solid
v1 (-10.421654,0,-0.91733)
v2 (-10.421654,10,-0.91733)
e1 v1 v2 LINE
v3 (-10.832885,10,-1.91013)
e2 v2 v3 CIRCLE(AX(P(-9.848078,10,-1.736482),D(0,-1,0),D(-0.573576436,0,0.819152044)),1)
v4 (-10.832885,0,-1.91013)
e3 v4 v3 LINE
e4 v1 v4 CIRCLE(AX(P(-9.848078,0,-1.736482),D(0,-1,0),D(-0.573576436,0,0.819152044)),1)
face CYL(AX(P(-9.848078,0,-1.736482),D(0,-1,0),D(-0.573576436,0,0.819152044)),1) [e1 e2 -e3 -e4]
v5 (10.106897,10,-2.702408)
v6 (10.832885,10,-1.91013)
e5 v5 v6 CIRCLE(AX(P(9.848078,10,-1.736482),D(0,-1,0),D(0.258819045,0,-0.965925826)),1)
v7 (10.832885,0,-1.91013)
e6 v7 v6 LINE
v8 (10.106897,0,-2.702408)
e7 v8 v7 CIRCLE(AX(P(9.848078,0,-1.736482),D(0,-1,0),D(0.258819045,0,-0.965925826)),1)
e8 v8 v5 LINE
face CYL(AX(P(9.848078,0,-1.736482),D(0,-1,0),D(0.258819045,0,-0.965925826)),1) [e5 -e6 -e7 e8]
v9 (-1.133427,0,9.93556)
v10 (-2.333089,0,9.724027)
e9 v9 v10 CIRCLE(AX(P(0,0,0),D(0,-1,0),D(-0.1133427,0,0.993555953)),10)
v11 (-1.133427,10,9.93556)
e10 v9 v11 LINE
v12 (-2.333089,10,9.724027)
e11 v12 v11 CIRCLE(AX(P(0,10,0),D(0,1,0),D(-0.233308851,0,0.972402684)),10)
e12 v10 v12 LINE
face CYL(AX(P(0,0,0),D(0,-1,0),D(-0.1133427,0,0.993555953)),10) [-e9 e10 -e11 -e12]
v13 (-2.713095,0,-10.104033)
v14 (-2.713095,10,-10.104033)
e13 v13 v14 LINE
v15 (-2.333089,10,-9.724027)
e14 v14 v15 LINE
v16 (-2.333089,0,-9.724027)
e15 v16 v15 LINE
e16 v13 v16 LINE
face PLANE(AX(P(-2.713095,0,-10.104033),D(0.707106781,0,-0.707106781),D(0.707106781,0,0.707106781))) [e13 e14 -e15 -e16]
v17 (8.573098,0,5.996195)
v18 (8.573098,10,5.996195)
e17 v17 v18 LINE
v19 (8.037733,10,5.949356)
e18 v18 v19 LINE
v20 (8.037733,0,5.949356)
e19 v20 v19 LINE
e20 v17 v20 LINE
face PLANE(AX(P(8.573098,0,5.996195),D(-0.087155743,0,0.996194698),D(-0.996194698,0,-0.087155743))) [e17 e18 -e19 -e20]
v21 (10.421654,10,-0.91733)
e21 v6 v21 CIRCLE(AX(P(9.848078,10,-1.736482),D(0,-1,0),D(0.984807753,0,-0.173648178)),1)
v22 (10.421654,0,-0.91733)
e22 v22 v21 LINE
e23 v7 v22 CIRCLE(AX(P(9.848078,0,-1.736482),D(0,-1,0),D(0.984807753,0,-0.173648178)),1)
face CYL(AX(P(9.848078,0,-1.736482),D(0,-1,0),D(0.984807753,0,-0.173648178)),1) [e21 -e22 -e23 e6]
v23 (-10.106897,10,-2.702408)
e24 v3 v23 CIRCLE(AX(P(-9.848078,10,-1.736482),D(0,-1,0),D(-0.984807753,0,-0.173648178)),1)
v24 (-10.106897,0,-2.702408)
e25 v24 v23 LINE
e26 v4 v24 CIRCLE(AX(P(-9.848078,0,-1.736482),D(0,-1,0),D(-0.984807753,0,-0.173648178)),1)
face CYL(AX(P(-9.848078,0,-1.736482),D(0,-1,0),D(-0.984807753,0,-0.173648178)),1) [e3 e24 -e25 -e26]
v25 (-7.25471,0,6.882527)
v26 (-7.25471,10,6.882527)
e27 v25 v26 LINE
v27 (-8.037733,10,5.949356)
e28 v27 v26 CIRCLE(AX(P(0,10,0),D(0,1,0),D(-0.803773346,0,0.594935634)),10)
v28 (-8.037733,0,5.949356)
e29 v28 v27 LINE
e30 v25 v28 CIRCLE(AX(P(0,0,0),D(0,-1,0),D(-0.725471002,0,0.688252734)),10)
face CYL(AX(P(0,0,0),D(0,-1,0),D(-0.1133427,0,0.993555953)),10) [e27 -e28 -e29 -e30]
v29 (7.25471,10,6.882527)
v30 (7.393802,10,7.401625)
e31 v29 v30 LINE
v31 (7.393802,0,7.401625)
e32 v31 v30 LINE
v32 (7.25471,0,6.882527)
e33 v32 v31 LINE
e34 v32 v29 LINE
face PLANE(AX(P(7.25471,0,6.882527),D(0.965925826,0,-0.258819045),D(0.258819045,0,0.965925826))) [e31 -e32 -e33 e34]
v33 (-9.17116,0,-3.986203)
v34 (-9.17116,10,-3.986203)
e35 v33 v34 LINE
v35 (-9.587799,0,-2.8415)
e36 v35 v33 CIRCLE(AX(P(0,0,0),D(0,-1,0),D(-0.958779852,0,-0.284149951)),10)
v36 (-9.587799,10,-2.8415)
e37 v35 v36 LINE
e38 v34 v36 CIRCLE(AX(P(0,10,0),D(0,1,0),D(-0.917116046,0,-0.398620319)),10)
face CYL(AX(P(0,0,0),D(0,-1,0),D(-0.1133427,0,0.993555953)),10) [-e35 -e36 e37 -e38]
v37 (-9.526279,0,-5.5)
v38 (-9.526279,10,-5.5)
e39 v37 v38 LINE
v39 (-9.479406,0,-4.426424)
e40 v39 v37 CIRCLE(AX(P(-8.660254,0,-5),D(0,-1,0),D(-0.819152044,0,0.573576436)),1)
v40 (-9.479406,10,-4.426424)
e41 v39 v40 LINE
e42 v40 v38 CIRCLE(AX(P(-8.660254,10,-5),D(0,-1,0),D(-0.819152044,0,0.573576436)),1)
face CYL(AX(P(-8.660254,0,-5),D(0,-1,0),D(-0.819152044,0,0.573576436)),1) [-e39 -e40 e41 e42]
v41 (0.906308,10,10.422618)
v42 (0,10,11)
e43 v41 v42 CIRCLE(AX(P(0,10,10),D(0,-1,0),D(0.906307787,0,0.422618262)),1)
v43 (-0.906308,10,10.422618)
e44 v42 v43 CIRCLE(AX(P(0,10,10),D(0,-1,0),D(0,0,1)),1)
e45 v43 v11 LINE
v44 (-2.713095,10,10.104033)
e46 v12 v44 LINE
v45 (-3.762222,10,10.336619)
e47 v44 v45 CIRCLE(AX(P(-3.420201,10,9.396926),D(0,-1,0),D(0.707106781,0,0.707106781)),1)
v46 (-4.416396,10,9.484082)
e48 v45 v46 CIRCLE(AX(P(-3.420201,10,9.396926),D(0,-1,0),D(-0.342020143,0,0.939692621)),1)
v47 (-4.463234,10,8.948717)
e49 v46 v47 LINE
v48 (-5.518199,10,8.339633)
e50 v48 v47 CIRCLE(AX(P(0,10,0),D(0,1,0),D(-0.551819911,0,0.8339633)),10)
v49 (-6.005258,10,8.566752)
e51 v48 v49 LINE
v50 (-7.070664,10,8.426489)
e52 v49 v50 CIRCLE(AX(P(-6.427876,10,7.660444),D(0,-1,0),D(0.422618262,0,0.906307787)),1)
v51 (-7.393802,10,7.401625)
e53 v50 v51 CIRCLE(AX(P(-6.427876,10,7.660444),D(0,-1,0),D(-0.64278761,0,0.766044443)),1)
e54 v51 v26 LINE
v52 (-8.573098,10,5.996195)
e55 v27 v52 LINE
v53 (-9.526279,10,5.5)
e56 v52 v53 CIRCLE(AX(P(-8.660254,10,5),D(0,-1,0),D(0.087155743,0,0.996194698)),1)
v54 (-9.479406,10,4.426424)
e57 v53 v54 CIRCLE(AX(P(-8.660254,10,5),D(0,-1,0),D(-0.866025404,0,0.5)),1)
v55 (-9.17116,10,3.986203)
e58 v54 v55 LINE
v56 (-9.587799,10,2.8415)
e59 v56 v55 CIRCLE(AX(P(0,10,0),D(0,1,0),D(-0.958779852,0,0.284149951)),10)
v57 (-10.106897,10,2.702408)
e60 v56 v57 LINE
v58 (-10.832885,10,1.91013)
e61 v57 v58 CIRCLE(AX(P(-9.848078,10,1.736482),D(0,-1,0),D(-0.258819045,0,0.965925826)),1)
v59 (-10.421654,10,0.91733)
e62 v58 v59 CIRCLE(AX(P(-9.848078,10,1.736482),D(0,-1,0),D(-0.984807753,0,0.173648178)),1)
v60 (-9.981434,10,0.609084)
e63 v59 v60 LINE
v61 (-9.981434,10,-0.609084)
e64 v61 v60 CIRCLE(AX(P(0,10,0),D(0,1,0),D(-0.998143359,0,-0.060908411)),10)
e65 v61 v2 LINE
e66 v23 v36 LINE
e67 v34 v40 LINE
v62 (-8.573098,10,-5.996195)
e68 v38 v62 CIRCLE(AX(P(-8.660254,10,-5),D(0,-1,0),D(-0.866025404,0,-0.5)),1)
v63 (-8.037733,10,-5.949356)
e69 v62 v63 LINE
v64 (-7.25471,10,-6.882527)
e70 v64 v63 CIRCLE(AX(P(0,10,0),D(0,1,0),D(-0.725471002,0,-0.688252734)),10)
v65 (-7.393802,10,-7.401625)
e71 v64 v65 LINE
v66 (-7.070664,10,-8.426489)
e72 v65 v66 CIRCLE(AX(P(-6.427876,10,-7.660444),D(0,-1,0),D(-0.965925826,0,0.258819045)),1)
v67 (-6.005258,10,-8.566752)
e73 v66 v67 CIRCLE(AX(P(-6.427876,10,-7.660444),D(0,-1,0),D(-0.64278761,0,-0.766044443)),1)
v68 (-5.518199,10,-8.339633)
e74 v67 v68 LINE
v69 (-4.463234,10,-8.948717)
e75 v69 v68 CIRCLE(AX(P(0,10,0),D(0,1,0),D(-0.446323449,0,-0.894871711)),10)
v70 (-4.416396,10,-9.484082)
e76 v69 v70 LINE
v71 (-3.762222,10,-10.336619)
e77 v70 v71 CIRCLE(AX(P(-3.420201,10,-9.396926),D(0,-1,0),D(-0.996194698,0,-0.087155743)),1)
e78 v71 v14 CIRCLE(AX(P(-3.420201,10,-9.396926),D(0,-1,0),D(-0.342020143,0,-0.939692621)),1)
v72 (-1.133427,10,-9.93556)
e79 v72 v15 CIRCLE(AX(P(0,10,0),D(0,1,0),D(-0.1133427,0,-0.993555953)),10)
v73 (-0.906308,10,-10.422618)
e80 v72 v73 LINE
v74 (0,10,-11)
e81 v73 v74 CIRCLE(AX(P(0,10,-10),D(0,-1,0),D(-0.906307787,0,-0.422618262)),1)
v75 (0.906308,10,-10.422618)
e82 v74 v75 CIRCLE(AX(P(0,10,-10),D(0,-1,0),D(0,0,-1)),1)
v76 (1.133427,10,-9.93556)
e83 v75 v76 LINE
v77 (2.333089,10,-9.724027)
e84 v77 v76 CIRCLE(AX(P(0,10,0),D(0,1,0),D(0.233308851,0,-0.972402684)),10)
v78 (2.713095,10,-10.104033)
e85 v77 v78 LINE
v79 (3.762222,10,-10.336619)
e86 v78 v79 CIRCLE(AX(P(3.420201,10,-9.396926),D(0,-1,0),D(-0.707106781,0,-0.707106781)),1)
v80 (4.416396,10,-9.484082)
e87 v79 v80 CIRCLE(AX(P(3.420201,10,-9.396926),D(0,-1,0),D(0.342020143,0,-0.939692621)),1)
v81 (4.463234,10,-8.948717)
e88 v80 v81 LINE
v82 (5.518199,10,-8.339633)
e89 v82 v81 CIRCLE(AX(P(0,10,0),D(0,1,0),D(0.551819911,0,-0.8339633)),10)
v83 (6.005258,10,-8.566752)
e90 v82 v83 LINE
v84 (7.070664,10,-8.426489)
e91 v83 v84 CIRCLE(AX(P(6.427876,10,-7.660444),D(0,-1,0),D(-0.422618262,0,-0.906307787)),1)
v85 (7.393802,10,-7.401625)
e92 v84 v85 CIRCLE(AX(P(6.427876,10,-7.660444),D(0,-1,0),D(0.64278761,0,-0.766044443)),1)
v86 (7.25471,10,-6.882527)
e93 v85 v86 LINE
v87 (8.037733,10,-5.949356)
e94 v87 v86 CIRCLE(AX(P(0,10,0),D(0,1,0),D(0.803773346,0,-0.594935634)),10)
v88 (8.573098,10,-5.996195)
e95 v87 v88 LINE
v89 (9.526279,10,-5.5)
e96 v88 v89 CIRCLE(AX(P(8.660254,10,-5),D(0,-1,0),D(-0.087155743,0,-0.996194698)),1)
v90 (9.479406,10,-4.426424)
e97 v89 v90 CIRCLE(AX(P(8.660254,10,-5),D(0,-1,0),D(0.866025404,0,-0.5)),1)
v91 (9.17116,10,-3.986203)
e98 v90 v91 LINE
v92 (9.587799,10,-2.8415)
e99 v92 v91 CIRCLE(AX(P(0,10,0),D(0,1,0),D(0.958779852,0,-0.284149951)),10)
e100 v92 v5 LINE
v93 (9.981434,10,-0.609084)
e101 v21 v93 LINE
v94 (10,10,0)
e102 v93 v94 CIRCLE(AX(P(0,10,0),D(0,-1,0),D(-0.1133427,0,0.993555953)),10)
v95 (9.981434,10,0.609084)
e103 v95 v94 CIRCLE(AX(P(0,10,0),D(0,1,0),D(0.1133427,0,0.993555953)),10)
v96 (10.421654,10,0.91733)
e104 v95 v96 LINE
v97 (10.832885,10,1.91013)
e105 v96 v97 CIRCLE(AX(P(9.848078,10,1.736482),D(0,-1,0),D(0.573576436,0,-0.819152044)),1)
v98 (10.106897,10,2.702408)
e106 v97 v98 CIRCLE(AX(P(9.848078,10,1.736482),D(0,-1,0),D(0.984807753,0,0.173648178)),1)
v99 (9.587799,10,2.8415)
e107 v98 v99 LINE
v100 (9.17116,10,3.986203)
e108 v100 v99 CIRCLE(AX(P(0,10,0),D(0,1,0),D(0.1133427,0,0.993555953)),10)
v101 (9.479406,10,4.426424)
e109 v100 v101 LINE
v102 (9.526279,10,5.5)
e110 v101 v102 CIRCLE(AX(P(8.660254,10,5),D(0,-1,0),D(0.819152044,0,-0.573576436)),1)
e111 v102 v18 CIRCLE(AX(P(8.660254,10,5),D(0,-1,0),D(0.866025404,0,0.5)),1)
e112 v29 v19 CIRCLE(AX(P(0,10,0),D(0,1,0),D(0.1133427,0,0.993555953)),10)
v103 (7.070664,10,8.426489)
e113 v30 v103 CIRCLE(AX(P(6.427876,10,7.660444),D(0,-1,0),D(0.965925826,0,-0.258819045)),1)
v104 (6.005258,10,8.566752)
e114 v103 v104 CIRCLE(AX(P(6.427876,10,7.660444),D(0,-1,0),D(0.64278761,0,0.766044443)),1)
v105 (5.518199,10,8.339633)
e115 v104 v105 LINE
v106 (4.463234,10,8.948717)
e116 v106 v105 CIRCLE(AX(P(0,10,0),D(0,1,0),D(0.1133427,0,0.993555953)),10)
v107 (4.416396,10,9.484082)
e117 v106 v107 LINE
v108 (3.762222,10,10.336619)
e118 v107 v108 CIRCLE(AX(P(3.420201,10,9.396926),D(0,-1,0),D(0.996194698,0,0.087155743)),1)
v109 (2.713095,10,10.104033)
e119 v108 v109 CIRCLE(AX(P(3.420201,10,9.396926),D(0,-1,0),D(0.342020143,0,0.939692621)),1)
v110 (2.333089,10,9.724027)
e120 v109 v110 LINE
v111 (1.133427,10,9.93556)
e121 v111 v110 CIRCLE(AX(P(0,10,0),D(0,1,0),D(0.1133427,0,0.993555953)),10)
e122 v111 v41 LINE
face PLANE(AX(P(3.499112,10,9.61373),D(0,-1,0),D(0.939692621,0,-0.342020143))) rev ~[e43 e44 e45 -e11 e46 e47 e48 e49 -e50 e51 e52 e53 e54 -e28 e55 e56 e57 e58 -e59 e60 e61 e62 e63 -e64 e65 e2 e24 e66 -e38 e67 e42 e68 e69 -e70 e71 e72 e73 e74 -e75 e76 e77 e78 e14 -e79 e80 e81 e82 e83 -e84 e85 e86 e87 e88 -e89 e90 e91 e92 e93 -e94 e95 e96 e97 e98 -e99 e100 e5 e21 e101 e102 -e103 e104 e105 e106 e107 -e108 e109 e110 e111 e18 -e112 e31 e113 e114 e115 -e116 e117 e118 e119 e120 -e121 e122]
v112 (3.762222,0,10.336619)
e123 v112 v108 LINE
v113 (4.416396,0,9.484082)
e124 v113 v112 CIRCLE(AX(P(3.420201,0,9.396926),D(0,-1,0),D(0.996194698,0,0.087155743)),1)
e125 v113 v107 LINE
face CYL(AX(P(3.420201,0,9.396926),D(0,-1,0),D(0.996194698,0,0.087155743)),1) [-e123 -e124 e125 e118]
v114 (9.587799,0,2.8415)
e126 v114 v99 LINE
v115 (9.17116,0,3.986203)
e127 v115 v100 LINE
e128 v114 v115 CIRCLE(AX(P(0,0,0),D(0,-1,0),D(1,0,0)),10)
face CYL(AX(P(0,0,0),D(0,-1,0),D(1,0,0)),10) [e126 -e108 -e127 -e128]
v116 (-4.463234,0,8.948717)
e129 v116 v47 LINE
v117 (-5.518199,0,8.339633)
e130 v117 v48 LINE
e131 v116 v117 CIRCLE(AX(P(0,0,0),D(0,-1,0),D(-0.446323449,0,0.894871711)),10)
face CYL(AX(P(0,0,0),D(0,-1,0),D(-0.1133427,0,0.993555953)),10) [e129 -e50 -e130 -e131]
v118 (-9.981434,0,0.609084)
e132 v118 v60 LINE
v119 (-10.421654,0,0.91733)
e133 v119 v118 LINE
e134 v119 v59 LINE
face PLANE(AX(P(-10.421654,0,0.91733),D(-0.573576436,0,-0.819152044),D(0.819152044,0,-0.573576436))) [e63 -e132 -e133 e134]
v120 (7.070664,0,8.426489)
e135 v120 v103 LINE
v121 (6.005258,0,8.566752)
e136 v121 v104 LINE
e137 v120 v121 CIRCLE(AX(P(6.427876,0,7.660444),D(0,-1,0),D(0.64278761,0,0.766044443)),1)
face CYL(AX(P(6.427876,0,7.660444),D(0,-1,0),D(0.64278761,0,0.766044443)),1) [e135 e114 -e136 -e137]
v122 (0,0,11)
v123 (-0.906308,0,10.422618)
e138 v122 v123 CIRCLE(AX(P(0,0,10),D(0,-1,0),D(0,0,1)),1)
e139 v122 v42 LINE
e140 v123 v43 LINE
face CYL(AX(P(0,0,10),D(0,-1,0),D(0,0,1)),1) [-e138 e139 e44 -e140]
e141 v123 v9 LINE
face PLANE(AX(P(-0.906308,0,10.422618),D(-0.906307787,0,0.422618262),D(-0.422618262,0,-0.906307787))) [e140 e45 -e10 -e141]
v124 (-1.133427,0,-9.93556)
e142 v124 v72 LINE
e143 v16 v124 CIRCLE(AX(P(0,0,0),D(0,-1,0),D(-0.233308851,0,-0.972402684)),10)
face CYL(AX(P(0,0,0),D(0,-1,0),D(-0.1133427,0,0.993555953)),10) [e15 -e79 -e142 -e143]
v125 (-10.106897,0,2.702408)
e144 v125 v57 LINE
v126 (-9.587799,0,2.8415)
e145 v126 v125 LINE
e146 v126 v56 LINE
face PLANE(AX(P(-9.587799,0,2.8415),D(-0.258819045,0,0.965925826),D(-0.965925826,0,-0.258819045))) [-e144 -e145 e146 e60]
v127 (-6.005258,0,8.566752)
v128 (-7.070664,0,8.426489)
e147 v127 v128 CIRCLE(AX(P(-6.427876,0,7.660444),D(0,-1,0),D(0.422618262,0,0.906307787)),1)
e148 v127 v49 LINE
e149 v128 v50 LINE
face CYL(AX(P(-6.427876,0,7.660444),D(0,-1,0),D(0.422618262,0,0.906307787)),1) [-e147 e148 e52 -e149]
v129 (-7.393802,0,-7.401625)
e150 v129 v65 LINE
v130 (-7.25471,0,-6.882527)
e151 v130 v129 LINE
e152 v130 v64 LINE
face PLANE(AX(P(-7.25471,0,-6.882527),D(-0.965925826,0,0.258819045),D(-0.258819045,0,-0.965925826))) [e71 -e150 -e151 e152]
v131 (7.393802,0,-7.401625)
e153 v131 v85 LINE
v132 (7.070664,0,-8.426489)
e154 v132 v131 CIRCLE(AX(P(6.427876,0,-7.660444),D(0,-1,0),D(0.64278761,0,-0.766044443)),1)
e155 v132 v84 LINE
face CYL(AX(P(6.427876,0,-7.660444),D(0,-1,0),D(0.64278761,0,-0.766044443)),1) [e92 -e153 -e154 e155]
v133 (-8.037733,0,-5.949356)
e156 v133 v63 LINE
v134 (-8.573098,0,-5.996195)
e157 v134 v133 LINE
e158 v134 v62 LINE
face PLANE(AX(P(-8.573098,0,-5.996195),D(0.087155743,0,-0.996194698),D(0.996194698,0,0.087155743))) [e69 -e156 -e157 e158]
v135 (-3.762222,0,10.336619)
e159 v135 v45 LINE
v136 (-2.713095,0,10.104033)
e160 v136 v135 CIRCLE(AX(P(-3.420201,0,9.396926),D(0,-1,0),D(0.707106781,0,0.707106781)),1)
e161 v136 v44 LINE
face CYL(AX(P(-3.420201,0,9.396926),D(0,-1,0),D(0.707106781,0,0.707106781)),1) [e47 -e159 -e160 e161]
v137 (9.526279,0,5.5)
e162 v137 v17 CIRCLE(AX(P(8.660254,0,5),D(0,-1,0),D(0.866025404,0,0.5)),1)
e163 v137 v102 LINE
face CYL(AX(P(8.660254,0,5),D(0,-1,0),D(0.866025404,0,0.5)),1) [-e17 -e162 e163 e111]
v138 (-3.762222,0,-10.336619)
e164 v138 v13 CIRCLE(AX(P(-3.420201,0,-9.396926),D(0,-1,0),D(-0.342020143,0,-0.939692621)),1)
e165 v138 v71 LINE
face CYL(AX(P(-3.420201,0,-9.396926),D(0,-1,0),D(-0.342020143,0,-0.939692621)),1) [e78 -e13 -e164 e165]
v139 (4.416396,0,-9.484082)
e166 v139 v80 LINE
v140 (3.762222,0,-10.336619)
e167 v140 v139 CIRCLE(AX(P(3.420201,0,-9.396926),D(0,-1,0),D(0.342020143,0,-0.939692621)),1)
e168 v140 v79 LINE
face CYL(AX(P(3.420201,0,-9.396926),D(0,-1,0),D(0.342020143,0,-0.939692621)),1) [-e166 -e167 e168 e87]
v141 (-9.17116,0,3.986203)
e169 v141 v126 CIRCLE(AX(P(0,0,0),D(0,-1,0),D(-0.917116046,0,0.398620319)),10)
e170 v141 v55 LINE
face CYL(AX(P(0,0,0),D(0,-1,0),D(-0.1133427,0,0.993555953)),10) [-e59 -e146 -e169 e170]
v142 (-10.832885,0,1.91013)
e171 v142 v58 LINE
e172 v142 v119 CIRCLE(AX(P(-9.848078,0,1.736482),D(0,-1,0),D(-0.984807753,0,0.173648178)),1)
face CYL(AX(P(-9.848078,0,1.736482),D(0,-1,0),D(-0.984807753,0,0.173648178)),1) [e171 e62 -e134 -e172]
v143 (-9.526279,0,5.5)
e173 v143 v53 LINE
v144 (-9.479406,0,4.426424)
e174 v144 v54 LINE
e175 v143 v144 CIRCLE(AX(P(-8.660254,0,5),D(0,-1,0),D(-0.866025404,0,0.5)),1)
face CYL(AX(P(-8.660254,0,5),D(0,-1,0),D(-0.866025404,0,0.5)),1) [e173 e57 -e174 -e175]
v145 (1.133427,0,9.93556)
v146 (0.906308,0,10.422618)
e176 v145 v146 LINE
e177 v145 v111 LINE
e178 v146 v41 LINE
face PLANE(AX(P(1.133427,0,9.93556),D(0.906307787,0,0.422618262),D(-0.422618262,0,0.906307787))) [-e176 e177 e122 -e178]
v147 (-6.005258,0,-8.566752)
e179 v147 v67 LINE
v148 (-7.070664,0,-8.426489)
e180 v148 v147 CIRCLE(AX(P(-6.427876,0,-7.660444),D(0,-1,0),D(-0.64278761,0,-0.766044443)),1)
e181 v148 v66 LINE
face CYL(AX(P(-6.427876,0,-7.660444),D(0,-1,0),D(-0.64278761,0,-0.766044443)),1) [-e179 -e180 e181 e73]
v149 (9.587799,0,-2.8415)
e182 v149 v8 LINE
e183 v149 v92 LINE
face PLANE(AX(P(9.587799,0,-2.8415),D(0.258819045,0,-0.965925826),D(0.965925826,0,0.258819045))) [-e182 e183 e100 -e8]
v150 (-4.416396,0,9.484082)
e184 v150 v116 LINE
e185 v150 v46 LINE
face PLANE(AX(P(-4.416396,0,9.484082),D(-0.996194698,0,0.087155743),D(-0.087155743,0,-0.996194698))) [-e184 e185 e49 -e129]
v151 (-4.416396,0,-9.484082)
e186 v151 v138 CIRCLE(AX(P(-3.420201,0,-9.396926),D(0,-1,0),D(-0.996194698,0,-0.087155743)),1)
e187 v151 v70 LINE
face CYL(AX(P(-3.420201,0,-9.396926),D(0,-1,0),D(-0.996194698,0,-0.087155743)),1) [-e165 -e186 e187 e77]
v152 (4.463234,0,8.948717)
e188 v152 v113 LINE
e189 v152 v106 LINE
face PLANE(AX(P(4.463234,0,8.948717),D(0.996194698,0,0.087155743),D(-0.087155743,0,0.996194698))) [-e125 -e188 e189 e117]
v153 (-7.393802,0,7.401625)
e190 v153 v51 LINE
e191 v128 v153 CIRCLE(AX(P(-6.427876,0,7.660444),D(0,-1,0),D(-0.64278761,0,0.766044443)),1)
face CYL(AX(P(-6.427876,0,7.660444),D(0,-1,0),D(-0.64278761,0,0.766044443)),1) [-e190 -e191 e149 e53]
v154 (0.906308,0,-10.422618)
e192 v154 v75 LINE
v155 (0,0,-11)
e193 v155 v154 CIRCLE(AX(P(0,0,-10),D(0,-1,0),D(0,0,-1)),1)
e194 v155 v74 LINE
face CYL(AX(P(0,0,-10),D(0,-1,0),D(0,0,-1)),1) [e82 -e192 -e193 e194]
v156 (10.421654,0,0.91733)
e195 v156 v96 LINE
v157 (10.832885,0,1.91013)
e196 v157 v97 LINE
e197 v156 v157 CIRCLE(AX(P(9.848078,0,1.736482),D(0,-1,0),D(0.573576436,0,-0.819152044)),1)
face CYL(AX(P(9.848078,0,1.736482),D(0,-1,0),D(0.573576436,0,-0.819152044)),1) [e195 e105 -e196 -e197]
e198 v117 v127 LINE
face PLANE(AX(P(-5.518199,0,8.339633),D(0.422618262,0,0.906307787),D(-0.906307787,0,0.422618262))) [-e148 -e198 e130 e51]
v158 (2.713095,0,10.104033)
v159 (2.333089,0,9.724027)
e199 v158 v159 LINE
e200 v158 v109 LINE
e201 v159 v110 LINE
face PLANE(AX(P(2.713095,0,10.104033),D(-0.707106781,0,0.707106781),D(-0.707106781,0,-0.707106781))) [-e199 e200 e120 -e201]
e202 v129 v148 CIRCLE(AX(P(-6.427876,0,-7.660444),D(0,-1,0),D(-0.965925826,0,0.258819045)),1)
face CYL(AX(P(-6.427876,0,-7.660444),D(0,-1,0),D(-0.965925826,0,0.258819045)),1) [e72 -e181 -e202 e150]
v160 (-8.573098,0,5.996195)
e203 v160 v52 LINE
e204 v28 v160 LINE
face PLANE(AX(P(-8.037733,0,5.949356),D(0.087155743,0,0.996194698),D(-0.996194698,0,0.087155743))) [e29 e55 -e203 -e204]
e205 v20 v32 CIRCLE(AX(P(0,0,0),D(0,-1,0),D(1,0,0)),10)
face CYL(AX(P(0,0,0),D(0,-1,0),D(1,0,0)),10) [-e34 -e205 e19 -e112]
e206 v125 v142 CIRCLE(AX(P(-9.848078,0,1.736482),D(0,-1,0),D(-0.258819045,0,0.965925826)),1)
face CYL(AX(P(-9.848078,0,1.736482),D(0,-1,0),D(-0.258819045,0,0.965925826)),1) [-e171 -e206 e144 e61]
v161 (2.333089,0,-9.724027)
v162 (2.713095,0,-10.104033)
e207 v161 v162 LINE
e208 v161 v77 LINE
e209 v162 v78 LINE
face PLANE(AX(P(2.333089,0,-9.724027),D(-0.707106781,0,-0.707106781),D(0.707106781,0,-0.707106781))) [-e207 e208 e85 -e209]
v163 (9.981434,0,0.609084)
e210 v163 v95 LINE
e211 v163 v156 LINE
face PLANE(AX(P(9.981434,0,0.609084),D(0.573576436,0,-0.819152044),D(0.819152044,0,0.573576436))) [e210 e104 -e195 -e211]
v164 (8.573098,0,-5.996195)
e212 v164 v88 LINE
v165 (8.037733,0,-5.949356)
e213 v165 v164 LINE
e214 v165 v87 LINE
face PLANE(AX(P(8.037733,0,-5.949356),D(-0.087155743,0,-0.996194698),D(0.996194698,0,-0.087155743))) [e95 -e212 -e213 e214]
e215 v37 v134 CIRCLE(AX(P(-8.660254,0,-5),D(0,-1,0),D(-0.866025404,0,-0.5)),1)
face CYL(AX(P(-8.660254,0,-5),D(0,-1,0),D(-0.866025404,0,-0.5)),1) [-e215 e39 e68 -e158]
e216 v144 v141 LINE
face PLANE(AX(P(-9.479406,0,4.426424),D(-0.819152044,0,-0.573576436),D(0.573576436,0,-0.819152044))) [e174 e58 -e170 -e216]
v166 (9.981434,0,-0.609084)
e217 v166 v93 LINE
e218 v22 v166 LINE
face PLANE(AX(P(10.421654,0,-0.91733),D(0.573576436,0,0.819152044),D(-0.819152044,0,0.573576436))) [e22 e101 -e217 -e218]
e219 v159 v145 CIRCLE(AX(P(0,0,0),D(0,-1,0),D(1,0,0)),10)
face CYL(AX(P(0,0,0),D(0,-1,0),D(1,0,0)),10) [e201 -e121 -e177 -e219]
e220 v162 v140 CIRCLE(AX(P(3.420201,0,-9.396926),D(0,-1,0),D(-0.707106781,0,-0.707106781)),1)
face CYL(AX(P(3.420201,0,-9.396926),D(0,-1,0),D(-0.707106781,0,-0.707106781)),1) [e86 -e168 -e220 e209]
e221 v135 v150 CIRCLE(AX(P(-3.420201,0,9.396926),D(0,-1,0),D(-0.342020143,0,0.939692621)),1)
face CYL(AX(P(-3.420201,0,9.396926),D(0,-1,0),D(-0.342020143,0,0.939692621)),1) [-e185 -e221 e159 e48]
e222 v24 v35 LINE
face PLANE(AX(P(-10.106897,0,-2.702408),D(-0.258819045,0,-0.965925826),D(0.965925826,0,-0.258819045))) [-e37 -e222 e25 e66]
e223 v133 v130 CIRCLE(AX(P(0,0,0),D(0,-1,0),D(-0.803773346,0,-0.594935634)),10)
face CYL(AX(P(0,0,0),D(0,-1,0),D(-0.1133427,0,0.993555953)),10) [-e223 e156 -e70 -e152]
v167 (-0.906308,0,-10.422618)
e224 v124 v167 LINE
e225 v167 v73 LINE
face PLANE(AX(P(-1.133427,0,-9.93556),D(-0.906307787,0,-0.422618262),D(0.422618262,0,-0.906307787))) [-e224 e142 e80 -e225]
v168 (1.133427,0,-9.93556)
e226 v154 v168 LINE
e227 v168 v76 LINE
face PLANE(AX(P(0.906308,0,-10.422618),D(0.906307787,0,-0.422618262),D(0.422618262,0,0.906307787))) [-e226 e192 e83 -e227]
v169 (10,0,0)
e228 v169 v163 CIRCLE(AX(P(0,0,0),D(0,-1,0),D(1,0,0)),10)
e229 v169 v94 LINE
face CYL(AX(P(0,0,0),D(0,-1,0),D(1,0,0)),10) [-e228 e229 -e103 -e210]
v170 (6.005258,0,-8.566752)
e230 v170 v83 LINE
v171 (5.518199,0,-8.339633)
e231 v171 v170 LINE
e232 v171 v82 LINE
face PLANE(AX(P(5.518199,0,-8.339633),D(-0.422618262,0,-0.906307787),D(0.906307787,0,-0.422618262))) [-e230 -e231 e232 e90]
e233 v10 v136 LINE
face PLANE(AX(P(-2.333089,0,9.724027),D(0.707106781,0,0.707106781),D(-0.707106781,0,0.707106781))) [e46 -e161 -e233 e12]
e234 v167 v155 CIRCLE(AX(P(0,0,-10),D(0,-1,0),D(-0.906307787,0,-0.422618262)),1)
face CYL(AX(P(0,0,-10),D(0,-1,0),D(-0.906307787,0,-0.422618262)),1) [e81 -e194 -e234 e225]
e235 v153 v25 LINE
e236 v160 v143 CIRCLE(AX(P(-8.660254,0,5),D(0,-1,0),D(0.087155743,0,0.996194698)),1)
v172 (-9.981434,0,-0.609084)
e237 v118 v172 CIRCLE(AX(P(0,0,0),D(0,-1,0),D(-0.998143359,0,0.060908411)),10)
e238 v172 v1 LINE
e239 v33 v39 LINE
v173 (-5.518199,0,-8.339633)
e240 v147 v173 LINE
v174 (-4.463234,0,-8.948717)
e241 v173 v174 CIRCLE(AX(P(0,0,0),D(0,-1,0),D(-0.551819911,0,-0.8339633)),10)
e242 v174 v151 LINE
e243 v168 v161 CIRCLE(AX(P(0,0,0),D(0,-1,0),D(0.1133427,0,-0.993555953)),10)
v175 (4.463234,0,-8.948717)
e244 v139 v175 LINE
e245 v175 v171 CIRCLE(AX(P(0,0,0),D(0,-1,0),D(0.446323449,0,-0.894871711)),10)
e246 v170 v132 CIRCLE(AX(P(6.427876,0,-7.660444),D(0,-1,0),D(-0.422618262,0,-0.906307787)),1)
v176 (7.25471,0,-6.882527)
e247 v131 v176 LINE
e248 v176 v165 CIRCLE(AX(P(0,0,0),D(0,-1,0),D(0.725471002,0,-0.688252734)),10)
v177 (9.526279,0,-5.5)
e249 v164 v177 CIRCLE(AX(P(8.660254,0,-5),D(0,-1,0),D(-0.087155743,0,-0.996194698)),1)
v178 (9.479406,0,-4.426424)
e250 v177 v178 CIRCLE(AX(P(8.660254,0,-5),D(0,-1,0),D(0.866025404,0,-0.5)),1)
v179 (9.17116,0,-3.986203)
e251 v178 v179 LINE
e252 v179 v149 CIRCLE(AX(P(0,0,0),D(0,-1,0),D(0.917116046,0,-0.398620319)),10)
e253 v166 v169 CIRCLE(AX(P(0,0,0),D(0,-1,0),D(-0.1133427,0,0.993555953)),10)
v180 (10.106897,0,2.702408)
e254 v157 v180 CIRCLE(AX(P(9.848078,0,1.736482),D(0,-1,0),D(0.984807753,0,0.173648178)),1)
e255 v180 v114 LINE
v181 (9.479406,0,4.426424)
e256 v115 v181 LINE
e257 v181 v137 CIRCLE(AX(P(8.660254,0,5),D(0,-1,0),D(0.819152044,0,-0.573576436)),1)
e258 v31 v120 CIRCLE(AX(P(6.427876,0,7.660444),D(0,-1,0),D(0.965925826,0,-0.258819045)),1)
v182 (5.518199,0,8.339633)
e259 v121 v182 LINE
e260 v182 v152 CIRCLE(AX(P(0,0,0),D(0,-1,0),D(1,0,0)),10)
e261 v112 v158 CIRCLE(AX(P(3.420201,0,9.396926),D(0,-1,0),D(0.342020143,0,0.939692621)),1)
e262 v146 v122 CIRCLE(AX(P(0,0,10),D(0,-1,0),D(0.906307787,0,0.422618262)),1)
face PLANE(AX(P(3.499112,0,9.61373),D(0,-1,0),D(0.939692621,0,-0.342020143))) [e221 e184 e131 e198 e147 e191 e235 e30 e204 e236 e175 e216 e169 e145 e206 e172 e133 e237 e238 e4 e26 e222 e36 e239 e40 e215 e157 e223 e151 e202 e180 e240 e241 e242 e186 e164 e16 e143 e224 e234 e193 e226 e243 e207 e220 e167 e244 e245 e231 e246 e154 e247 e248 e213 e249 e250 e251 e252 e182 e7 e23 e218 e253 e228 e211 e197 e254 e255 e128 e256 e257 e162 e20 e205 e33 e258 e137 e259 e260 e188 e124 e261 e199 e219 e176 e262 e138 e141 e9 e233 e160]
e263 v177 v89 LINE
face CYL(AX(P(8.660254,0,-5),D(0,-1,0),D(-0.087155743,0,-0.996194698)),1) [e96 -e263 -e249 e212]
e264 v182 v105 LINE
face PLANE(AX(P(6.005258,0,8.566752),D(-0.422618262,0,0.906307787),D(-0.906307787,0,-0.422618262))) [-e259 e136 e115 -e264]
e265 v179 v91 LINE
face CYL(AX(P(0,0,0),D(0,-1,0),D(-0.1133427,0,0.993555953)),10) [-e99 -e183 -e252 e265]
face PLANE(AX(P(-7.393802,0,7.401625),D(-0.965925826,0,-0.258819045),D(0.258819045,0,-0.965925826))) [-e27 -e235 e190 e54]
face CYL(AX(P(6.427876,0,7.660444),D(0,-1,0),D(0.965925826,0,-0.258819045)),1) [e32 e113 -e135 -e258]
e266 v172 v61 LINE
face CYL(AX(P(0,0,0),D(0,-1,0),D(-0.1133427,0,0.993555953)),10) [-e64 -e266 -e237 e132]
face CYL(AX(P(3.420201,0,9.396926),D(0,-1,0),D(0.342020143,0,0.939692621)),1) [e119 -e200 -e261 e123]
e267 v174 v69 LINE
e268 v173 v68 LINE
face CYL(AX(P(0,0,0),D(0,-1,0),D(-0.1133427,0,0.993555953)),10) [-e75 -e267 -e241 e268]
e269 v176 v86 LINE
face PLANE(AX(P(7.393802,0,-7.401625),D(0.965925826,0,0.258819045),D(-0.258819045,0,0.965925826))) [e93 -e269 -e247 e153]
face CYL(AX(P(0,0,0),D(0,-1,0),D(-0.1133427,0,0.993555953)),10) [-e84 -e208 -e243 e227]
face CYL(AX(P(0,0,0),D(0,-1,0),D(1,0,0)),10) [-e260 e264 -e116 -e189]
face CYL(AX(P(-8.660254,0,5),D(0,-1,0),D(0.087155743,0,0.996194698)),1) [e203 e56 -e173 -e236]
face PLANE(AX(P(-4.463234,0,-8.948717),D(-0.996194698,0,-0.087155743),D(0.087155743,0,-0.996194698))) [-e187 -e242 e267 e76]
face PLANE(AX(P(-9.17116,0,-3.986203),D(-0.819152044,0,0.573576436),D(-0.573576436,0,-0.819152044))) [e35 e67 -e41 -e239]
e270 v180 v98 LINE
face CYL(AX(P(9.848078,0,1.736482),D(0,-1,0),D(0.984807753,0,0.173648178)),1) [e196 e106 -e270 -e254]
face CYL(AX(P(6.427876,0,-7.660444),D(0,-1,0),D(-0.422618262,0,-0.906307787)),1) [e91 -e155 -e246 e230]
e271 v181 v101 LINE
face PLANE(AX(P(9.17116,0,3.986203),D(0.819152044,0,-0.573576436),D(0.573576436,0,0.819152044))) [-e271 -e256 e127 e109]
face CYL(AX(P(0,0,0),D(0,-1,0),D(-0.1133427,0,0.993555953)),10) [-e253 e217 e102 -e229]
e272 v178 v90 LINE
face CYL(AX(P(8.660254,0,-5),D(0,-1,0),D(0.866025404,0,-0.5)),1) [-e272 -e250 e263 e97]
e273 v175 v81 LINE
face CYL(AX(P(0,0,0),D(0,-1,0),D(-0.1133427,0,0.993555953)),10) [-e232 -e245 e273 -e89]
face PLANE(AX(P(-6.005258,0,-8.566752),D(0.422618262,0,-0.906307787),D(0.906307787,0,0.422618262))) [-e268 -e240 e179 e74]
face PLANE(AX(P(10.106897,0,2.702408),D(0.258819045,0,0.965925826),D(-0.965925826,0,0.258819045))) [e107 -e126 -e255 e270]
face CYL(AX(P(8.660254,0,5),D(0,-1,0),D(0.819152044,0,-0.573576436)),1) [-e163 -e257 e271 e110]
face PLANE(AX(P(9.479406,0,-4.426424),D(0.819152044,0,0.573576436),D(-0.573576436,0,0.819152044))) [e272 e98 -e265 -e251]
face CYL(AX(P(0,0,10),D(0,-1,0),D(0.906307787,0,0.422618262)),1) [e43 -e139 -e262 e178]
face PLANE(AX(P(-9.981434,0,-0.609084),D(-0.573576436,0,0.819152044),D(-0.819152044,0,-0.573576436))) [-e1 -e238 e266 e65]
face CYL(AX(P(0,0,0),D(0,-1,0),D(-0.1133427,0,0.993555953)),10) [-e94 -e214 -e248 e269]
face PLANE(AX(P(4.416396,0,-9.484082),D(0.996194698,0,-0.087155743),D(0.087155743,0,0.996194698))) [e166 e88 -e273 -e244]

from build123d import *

# Parameters (mm, degrees)
F1_DEPTH = 10
F3_DEPTH = 10
F4_COUNT = 18


with BuildPart() as f1:
    # F0 (on Front) → F1 (new body)
    with BuildSketch(Plane.XZ):
        with BuildLine():
            ThreePointArc((-1.1334270023, 9.9355595328), (-6.6582929485, -7.461041148), (10, 0))
            ThreePointArc((10, 0), (7.461041148, 6.6582929485), (1.1334270023, 9.9355595328))
            ThreePointArc((1.1334270023, 9.9355595328), (0, 10), (-1.1334270023, 9.9355595328))
        make_face()
    extrude(amount=-F1_DEPTH)

    # F2 (on face) → F3 (join)
    with BuildSketch(Plane.XZ):
        with BuildLine():
            Line((-0.906307787, 10.4226182617), (-1.1334270023, 9.9355595328))
            ThreePointArc((-1.1334270023, 9.9355595328), (0, 9.5833893877), (1.1334270023, 9.9355595328))
            Line((1.1334270023, 9.9355595328), (0.906307787, 10.4226182617))
            ThreePointArc((0.906307787, 10.4226182617), (0.5372996083, 10.8433914458), (0, 11))
            ThreePointArc((0, 11), (-0.5372996083, 10.8433914458), (-0.906307787, 10.4226182617))
        make_face()
    extrude(amount=-F3_DEPTH)

    # F4: F1 ×18 about axis
    f4_axis = Axis((0, 0, 0), (0, -1, 0))


with BuildPart() as f1_1:
    add(f1.part)
    for i in range(1, F4_COUNT):
        add(f1.part.rotate(f4_axis, i * 360 / F4_COUNT))


solid = f1_1.part
